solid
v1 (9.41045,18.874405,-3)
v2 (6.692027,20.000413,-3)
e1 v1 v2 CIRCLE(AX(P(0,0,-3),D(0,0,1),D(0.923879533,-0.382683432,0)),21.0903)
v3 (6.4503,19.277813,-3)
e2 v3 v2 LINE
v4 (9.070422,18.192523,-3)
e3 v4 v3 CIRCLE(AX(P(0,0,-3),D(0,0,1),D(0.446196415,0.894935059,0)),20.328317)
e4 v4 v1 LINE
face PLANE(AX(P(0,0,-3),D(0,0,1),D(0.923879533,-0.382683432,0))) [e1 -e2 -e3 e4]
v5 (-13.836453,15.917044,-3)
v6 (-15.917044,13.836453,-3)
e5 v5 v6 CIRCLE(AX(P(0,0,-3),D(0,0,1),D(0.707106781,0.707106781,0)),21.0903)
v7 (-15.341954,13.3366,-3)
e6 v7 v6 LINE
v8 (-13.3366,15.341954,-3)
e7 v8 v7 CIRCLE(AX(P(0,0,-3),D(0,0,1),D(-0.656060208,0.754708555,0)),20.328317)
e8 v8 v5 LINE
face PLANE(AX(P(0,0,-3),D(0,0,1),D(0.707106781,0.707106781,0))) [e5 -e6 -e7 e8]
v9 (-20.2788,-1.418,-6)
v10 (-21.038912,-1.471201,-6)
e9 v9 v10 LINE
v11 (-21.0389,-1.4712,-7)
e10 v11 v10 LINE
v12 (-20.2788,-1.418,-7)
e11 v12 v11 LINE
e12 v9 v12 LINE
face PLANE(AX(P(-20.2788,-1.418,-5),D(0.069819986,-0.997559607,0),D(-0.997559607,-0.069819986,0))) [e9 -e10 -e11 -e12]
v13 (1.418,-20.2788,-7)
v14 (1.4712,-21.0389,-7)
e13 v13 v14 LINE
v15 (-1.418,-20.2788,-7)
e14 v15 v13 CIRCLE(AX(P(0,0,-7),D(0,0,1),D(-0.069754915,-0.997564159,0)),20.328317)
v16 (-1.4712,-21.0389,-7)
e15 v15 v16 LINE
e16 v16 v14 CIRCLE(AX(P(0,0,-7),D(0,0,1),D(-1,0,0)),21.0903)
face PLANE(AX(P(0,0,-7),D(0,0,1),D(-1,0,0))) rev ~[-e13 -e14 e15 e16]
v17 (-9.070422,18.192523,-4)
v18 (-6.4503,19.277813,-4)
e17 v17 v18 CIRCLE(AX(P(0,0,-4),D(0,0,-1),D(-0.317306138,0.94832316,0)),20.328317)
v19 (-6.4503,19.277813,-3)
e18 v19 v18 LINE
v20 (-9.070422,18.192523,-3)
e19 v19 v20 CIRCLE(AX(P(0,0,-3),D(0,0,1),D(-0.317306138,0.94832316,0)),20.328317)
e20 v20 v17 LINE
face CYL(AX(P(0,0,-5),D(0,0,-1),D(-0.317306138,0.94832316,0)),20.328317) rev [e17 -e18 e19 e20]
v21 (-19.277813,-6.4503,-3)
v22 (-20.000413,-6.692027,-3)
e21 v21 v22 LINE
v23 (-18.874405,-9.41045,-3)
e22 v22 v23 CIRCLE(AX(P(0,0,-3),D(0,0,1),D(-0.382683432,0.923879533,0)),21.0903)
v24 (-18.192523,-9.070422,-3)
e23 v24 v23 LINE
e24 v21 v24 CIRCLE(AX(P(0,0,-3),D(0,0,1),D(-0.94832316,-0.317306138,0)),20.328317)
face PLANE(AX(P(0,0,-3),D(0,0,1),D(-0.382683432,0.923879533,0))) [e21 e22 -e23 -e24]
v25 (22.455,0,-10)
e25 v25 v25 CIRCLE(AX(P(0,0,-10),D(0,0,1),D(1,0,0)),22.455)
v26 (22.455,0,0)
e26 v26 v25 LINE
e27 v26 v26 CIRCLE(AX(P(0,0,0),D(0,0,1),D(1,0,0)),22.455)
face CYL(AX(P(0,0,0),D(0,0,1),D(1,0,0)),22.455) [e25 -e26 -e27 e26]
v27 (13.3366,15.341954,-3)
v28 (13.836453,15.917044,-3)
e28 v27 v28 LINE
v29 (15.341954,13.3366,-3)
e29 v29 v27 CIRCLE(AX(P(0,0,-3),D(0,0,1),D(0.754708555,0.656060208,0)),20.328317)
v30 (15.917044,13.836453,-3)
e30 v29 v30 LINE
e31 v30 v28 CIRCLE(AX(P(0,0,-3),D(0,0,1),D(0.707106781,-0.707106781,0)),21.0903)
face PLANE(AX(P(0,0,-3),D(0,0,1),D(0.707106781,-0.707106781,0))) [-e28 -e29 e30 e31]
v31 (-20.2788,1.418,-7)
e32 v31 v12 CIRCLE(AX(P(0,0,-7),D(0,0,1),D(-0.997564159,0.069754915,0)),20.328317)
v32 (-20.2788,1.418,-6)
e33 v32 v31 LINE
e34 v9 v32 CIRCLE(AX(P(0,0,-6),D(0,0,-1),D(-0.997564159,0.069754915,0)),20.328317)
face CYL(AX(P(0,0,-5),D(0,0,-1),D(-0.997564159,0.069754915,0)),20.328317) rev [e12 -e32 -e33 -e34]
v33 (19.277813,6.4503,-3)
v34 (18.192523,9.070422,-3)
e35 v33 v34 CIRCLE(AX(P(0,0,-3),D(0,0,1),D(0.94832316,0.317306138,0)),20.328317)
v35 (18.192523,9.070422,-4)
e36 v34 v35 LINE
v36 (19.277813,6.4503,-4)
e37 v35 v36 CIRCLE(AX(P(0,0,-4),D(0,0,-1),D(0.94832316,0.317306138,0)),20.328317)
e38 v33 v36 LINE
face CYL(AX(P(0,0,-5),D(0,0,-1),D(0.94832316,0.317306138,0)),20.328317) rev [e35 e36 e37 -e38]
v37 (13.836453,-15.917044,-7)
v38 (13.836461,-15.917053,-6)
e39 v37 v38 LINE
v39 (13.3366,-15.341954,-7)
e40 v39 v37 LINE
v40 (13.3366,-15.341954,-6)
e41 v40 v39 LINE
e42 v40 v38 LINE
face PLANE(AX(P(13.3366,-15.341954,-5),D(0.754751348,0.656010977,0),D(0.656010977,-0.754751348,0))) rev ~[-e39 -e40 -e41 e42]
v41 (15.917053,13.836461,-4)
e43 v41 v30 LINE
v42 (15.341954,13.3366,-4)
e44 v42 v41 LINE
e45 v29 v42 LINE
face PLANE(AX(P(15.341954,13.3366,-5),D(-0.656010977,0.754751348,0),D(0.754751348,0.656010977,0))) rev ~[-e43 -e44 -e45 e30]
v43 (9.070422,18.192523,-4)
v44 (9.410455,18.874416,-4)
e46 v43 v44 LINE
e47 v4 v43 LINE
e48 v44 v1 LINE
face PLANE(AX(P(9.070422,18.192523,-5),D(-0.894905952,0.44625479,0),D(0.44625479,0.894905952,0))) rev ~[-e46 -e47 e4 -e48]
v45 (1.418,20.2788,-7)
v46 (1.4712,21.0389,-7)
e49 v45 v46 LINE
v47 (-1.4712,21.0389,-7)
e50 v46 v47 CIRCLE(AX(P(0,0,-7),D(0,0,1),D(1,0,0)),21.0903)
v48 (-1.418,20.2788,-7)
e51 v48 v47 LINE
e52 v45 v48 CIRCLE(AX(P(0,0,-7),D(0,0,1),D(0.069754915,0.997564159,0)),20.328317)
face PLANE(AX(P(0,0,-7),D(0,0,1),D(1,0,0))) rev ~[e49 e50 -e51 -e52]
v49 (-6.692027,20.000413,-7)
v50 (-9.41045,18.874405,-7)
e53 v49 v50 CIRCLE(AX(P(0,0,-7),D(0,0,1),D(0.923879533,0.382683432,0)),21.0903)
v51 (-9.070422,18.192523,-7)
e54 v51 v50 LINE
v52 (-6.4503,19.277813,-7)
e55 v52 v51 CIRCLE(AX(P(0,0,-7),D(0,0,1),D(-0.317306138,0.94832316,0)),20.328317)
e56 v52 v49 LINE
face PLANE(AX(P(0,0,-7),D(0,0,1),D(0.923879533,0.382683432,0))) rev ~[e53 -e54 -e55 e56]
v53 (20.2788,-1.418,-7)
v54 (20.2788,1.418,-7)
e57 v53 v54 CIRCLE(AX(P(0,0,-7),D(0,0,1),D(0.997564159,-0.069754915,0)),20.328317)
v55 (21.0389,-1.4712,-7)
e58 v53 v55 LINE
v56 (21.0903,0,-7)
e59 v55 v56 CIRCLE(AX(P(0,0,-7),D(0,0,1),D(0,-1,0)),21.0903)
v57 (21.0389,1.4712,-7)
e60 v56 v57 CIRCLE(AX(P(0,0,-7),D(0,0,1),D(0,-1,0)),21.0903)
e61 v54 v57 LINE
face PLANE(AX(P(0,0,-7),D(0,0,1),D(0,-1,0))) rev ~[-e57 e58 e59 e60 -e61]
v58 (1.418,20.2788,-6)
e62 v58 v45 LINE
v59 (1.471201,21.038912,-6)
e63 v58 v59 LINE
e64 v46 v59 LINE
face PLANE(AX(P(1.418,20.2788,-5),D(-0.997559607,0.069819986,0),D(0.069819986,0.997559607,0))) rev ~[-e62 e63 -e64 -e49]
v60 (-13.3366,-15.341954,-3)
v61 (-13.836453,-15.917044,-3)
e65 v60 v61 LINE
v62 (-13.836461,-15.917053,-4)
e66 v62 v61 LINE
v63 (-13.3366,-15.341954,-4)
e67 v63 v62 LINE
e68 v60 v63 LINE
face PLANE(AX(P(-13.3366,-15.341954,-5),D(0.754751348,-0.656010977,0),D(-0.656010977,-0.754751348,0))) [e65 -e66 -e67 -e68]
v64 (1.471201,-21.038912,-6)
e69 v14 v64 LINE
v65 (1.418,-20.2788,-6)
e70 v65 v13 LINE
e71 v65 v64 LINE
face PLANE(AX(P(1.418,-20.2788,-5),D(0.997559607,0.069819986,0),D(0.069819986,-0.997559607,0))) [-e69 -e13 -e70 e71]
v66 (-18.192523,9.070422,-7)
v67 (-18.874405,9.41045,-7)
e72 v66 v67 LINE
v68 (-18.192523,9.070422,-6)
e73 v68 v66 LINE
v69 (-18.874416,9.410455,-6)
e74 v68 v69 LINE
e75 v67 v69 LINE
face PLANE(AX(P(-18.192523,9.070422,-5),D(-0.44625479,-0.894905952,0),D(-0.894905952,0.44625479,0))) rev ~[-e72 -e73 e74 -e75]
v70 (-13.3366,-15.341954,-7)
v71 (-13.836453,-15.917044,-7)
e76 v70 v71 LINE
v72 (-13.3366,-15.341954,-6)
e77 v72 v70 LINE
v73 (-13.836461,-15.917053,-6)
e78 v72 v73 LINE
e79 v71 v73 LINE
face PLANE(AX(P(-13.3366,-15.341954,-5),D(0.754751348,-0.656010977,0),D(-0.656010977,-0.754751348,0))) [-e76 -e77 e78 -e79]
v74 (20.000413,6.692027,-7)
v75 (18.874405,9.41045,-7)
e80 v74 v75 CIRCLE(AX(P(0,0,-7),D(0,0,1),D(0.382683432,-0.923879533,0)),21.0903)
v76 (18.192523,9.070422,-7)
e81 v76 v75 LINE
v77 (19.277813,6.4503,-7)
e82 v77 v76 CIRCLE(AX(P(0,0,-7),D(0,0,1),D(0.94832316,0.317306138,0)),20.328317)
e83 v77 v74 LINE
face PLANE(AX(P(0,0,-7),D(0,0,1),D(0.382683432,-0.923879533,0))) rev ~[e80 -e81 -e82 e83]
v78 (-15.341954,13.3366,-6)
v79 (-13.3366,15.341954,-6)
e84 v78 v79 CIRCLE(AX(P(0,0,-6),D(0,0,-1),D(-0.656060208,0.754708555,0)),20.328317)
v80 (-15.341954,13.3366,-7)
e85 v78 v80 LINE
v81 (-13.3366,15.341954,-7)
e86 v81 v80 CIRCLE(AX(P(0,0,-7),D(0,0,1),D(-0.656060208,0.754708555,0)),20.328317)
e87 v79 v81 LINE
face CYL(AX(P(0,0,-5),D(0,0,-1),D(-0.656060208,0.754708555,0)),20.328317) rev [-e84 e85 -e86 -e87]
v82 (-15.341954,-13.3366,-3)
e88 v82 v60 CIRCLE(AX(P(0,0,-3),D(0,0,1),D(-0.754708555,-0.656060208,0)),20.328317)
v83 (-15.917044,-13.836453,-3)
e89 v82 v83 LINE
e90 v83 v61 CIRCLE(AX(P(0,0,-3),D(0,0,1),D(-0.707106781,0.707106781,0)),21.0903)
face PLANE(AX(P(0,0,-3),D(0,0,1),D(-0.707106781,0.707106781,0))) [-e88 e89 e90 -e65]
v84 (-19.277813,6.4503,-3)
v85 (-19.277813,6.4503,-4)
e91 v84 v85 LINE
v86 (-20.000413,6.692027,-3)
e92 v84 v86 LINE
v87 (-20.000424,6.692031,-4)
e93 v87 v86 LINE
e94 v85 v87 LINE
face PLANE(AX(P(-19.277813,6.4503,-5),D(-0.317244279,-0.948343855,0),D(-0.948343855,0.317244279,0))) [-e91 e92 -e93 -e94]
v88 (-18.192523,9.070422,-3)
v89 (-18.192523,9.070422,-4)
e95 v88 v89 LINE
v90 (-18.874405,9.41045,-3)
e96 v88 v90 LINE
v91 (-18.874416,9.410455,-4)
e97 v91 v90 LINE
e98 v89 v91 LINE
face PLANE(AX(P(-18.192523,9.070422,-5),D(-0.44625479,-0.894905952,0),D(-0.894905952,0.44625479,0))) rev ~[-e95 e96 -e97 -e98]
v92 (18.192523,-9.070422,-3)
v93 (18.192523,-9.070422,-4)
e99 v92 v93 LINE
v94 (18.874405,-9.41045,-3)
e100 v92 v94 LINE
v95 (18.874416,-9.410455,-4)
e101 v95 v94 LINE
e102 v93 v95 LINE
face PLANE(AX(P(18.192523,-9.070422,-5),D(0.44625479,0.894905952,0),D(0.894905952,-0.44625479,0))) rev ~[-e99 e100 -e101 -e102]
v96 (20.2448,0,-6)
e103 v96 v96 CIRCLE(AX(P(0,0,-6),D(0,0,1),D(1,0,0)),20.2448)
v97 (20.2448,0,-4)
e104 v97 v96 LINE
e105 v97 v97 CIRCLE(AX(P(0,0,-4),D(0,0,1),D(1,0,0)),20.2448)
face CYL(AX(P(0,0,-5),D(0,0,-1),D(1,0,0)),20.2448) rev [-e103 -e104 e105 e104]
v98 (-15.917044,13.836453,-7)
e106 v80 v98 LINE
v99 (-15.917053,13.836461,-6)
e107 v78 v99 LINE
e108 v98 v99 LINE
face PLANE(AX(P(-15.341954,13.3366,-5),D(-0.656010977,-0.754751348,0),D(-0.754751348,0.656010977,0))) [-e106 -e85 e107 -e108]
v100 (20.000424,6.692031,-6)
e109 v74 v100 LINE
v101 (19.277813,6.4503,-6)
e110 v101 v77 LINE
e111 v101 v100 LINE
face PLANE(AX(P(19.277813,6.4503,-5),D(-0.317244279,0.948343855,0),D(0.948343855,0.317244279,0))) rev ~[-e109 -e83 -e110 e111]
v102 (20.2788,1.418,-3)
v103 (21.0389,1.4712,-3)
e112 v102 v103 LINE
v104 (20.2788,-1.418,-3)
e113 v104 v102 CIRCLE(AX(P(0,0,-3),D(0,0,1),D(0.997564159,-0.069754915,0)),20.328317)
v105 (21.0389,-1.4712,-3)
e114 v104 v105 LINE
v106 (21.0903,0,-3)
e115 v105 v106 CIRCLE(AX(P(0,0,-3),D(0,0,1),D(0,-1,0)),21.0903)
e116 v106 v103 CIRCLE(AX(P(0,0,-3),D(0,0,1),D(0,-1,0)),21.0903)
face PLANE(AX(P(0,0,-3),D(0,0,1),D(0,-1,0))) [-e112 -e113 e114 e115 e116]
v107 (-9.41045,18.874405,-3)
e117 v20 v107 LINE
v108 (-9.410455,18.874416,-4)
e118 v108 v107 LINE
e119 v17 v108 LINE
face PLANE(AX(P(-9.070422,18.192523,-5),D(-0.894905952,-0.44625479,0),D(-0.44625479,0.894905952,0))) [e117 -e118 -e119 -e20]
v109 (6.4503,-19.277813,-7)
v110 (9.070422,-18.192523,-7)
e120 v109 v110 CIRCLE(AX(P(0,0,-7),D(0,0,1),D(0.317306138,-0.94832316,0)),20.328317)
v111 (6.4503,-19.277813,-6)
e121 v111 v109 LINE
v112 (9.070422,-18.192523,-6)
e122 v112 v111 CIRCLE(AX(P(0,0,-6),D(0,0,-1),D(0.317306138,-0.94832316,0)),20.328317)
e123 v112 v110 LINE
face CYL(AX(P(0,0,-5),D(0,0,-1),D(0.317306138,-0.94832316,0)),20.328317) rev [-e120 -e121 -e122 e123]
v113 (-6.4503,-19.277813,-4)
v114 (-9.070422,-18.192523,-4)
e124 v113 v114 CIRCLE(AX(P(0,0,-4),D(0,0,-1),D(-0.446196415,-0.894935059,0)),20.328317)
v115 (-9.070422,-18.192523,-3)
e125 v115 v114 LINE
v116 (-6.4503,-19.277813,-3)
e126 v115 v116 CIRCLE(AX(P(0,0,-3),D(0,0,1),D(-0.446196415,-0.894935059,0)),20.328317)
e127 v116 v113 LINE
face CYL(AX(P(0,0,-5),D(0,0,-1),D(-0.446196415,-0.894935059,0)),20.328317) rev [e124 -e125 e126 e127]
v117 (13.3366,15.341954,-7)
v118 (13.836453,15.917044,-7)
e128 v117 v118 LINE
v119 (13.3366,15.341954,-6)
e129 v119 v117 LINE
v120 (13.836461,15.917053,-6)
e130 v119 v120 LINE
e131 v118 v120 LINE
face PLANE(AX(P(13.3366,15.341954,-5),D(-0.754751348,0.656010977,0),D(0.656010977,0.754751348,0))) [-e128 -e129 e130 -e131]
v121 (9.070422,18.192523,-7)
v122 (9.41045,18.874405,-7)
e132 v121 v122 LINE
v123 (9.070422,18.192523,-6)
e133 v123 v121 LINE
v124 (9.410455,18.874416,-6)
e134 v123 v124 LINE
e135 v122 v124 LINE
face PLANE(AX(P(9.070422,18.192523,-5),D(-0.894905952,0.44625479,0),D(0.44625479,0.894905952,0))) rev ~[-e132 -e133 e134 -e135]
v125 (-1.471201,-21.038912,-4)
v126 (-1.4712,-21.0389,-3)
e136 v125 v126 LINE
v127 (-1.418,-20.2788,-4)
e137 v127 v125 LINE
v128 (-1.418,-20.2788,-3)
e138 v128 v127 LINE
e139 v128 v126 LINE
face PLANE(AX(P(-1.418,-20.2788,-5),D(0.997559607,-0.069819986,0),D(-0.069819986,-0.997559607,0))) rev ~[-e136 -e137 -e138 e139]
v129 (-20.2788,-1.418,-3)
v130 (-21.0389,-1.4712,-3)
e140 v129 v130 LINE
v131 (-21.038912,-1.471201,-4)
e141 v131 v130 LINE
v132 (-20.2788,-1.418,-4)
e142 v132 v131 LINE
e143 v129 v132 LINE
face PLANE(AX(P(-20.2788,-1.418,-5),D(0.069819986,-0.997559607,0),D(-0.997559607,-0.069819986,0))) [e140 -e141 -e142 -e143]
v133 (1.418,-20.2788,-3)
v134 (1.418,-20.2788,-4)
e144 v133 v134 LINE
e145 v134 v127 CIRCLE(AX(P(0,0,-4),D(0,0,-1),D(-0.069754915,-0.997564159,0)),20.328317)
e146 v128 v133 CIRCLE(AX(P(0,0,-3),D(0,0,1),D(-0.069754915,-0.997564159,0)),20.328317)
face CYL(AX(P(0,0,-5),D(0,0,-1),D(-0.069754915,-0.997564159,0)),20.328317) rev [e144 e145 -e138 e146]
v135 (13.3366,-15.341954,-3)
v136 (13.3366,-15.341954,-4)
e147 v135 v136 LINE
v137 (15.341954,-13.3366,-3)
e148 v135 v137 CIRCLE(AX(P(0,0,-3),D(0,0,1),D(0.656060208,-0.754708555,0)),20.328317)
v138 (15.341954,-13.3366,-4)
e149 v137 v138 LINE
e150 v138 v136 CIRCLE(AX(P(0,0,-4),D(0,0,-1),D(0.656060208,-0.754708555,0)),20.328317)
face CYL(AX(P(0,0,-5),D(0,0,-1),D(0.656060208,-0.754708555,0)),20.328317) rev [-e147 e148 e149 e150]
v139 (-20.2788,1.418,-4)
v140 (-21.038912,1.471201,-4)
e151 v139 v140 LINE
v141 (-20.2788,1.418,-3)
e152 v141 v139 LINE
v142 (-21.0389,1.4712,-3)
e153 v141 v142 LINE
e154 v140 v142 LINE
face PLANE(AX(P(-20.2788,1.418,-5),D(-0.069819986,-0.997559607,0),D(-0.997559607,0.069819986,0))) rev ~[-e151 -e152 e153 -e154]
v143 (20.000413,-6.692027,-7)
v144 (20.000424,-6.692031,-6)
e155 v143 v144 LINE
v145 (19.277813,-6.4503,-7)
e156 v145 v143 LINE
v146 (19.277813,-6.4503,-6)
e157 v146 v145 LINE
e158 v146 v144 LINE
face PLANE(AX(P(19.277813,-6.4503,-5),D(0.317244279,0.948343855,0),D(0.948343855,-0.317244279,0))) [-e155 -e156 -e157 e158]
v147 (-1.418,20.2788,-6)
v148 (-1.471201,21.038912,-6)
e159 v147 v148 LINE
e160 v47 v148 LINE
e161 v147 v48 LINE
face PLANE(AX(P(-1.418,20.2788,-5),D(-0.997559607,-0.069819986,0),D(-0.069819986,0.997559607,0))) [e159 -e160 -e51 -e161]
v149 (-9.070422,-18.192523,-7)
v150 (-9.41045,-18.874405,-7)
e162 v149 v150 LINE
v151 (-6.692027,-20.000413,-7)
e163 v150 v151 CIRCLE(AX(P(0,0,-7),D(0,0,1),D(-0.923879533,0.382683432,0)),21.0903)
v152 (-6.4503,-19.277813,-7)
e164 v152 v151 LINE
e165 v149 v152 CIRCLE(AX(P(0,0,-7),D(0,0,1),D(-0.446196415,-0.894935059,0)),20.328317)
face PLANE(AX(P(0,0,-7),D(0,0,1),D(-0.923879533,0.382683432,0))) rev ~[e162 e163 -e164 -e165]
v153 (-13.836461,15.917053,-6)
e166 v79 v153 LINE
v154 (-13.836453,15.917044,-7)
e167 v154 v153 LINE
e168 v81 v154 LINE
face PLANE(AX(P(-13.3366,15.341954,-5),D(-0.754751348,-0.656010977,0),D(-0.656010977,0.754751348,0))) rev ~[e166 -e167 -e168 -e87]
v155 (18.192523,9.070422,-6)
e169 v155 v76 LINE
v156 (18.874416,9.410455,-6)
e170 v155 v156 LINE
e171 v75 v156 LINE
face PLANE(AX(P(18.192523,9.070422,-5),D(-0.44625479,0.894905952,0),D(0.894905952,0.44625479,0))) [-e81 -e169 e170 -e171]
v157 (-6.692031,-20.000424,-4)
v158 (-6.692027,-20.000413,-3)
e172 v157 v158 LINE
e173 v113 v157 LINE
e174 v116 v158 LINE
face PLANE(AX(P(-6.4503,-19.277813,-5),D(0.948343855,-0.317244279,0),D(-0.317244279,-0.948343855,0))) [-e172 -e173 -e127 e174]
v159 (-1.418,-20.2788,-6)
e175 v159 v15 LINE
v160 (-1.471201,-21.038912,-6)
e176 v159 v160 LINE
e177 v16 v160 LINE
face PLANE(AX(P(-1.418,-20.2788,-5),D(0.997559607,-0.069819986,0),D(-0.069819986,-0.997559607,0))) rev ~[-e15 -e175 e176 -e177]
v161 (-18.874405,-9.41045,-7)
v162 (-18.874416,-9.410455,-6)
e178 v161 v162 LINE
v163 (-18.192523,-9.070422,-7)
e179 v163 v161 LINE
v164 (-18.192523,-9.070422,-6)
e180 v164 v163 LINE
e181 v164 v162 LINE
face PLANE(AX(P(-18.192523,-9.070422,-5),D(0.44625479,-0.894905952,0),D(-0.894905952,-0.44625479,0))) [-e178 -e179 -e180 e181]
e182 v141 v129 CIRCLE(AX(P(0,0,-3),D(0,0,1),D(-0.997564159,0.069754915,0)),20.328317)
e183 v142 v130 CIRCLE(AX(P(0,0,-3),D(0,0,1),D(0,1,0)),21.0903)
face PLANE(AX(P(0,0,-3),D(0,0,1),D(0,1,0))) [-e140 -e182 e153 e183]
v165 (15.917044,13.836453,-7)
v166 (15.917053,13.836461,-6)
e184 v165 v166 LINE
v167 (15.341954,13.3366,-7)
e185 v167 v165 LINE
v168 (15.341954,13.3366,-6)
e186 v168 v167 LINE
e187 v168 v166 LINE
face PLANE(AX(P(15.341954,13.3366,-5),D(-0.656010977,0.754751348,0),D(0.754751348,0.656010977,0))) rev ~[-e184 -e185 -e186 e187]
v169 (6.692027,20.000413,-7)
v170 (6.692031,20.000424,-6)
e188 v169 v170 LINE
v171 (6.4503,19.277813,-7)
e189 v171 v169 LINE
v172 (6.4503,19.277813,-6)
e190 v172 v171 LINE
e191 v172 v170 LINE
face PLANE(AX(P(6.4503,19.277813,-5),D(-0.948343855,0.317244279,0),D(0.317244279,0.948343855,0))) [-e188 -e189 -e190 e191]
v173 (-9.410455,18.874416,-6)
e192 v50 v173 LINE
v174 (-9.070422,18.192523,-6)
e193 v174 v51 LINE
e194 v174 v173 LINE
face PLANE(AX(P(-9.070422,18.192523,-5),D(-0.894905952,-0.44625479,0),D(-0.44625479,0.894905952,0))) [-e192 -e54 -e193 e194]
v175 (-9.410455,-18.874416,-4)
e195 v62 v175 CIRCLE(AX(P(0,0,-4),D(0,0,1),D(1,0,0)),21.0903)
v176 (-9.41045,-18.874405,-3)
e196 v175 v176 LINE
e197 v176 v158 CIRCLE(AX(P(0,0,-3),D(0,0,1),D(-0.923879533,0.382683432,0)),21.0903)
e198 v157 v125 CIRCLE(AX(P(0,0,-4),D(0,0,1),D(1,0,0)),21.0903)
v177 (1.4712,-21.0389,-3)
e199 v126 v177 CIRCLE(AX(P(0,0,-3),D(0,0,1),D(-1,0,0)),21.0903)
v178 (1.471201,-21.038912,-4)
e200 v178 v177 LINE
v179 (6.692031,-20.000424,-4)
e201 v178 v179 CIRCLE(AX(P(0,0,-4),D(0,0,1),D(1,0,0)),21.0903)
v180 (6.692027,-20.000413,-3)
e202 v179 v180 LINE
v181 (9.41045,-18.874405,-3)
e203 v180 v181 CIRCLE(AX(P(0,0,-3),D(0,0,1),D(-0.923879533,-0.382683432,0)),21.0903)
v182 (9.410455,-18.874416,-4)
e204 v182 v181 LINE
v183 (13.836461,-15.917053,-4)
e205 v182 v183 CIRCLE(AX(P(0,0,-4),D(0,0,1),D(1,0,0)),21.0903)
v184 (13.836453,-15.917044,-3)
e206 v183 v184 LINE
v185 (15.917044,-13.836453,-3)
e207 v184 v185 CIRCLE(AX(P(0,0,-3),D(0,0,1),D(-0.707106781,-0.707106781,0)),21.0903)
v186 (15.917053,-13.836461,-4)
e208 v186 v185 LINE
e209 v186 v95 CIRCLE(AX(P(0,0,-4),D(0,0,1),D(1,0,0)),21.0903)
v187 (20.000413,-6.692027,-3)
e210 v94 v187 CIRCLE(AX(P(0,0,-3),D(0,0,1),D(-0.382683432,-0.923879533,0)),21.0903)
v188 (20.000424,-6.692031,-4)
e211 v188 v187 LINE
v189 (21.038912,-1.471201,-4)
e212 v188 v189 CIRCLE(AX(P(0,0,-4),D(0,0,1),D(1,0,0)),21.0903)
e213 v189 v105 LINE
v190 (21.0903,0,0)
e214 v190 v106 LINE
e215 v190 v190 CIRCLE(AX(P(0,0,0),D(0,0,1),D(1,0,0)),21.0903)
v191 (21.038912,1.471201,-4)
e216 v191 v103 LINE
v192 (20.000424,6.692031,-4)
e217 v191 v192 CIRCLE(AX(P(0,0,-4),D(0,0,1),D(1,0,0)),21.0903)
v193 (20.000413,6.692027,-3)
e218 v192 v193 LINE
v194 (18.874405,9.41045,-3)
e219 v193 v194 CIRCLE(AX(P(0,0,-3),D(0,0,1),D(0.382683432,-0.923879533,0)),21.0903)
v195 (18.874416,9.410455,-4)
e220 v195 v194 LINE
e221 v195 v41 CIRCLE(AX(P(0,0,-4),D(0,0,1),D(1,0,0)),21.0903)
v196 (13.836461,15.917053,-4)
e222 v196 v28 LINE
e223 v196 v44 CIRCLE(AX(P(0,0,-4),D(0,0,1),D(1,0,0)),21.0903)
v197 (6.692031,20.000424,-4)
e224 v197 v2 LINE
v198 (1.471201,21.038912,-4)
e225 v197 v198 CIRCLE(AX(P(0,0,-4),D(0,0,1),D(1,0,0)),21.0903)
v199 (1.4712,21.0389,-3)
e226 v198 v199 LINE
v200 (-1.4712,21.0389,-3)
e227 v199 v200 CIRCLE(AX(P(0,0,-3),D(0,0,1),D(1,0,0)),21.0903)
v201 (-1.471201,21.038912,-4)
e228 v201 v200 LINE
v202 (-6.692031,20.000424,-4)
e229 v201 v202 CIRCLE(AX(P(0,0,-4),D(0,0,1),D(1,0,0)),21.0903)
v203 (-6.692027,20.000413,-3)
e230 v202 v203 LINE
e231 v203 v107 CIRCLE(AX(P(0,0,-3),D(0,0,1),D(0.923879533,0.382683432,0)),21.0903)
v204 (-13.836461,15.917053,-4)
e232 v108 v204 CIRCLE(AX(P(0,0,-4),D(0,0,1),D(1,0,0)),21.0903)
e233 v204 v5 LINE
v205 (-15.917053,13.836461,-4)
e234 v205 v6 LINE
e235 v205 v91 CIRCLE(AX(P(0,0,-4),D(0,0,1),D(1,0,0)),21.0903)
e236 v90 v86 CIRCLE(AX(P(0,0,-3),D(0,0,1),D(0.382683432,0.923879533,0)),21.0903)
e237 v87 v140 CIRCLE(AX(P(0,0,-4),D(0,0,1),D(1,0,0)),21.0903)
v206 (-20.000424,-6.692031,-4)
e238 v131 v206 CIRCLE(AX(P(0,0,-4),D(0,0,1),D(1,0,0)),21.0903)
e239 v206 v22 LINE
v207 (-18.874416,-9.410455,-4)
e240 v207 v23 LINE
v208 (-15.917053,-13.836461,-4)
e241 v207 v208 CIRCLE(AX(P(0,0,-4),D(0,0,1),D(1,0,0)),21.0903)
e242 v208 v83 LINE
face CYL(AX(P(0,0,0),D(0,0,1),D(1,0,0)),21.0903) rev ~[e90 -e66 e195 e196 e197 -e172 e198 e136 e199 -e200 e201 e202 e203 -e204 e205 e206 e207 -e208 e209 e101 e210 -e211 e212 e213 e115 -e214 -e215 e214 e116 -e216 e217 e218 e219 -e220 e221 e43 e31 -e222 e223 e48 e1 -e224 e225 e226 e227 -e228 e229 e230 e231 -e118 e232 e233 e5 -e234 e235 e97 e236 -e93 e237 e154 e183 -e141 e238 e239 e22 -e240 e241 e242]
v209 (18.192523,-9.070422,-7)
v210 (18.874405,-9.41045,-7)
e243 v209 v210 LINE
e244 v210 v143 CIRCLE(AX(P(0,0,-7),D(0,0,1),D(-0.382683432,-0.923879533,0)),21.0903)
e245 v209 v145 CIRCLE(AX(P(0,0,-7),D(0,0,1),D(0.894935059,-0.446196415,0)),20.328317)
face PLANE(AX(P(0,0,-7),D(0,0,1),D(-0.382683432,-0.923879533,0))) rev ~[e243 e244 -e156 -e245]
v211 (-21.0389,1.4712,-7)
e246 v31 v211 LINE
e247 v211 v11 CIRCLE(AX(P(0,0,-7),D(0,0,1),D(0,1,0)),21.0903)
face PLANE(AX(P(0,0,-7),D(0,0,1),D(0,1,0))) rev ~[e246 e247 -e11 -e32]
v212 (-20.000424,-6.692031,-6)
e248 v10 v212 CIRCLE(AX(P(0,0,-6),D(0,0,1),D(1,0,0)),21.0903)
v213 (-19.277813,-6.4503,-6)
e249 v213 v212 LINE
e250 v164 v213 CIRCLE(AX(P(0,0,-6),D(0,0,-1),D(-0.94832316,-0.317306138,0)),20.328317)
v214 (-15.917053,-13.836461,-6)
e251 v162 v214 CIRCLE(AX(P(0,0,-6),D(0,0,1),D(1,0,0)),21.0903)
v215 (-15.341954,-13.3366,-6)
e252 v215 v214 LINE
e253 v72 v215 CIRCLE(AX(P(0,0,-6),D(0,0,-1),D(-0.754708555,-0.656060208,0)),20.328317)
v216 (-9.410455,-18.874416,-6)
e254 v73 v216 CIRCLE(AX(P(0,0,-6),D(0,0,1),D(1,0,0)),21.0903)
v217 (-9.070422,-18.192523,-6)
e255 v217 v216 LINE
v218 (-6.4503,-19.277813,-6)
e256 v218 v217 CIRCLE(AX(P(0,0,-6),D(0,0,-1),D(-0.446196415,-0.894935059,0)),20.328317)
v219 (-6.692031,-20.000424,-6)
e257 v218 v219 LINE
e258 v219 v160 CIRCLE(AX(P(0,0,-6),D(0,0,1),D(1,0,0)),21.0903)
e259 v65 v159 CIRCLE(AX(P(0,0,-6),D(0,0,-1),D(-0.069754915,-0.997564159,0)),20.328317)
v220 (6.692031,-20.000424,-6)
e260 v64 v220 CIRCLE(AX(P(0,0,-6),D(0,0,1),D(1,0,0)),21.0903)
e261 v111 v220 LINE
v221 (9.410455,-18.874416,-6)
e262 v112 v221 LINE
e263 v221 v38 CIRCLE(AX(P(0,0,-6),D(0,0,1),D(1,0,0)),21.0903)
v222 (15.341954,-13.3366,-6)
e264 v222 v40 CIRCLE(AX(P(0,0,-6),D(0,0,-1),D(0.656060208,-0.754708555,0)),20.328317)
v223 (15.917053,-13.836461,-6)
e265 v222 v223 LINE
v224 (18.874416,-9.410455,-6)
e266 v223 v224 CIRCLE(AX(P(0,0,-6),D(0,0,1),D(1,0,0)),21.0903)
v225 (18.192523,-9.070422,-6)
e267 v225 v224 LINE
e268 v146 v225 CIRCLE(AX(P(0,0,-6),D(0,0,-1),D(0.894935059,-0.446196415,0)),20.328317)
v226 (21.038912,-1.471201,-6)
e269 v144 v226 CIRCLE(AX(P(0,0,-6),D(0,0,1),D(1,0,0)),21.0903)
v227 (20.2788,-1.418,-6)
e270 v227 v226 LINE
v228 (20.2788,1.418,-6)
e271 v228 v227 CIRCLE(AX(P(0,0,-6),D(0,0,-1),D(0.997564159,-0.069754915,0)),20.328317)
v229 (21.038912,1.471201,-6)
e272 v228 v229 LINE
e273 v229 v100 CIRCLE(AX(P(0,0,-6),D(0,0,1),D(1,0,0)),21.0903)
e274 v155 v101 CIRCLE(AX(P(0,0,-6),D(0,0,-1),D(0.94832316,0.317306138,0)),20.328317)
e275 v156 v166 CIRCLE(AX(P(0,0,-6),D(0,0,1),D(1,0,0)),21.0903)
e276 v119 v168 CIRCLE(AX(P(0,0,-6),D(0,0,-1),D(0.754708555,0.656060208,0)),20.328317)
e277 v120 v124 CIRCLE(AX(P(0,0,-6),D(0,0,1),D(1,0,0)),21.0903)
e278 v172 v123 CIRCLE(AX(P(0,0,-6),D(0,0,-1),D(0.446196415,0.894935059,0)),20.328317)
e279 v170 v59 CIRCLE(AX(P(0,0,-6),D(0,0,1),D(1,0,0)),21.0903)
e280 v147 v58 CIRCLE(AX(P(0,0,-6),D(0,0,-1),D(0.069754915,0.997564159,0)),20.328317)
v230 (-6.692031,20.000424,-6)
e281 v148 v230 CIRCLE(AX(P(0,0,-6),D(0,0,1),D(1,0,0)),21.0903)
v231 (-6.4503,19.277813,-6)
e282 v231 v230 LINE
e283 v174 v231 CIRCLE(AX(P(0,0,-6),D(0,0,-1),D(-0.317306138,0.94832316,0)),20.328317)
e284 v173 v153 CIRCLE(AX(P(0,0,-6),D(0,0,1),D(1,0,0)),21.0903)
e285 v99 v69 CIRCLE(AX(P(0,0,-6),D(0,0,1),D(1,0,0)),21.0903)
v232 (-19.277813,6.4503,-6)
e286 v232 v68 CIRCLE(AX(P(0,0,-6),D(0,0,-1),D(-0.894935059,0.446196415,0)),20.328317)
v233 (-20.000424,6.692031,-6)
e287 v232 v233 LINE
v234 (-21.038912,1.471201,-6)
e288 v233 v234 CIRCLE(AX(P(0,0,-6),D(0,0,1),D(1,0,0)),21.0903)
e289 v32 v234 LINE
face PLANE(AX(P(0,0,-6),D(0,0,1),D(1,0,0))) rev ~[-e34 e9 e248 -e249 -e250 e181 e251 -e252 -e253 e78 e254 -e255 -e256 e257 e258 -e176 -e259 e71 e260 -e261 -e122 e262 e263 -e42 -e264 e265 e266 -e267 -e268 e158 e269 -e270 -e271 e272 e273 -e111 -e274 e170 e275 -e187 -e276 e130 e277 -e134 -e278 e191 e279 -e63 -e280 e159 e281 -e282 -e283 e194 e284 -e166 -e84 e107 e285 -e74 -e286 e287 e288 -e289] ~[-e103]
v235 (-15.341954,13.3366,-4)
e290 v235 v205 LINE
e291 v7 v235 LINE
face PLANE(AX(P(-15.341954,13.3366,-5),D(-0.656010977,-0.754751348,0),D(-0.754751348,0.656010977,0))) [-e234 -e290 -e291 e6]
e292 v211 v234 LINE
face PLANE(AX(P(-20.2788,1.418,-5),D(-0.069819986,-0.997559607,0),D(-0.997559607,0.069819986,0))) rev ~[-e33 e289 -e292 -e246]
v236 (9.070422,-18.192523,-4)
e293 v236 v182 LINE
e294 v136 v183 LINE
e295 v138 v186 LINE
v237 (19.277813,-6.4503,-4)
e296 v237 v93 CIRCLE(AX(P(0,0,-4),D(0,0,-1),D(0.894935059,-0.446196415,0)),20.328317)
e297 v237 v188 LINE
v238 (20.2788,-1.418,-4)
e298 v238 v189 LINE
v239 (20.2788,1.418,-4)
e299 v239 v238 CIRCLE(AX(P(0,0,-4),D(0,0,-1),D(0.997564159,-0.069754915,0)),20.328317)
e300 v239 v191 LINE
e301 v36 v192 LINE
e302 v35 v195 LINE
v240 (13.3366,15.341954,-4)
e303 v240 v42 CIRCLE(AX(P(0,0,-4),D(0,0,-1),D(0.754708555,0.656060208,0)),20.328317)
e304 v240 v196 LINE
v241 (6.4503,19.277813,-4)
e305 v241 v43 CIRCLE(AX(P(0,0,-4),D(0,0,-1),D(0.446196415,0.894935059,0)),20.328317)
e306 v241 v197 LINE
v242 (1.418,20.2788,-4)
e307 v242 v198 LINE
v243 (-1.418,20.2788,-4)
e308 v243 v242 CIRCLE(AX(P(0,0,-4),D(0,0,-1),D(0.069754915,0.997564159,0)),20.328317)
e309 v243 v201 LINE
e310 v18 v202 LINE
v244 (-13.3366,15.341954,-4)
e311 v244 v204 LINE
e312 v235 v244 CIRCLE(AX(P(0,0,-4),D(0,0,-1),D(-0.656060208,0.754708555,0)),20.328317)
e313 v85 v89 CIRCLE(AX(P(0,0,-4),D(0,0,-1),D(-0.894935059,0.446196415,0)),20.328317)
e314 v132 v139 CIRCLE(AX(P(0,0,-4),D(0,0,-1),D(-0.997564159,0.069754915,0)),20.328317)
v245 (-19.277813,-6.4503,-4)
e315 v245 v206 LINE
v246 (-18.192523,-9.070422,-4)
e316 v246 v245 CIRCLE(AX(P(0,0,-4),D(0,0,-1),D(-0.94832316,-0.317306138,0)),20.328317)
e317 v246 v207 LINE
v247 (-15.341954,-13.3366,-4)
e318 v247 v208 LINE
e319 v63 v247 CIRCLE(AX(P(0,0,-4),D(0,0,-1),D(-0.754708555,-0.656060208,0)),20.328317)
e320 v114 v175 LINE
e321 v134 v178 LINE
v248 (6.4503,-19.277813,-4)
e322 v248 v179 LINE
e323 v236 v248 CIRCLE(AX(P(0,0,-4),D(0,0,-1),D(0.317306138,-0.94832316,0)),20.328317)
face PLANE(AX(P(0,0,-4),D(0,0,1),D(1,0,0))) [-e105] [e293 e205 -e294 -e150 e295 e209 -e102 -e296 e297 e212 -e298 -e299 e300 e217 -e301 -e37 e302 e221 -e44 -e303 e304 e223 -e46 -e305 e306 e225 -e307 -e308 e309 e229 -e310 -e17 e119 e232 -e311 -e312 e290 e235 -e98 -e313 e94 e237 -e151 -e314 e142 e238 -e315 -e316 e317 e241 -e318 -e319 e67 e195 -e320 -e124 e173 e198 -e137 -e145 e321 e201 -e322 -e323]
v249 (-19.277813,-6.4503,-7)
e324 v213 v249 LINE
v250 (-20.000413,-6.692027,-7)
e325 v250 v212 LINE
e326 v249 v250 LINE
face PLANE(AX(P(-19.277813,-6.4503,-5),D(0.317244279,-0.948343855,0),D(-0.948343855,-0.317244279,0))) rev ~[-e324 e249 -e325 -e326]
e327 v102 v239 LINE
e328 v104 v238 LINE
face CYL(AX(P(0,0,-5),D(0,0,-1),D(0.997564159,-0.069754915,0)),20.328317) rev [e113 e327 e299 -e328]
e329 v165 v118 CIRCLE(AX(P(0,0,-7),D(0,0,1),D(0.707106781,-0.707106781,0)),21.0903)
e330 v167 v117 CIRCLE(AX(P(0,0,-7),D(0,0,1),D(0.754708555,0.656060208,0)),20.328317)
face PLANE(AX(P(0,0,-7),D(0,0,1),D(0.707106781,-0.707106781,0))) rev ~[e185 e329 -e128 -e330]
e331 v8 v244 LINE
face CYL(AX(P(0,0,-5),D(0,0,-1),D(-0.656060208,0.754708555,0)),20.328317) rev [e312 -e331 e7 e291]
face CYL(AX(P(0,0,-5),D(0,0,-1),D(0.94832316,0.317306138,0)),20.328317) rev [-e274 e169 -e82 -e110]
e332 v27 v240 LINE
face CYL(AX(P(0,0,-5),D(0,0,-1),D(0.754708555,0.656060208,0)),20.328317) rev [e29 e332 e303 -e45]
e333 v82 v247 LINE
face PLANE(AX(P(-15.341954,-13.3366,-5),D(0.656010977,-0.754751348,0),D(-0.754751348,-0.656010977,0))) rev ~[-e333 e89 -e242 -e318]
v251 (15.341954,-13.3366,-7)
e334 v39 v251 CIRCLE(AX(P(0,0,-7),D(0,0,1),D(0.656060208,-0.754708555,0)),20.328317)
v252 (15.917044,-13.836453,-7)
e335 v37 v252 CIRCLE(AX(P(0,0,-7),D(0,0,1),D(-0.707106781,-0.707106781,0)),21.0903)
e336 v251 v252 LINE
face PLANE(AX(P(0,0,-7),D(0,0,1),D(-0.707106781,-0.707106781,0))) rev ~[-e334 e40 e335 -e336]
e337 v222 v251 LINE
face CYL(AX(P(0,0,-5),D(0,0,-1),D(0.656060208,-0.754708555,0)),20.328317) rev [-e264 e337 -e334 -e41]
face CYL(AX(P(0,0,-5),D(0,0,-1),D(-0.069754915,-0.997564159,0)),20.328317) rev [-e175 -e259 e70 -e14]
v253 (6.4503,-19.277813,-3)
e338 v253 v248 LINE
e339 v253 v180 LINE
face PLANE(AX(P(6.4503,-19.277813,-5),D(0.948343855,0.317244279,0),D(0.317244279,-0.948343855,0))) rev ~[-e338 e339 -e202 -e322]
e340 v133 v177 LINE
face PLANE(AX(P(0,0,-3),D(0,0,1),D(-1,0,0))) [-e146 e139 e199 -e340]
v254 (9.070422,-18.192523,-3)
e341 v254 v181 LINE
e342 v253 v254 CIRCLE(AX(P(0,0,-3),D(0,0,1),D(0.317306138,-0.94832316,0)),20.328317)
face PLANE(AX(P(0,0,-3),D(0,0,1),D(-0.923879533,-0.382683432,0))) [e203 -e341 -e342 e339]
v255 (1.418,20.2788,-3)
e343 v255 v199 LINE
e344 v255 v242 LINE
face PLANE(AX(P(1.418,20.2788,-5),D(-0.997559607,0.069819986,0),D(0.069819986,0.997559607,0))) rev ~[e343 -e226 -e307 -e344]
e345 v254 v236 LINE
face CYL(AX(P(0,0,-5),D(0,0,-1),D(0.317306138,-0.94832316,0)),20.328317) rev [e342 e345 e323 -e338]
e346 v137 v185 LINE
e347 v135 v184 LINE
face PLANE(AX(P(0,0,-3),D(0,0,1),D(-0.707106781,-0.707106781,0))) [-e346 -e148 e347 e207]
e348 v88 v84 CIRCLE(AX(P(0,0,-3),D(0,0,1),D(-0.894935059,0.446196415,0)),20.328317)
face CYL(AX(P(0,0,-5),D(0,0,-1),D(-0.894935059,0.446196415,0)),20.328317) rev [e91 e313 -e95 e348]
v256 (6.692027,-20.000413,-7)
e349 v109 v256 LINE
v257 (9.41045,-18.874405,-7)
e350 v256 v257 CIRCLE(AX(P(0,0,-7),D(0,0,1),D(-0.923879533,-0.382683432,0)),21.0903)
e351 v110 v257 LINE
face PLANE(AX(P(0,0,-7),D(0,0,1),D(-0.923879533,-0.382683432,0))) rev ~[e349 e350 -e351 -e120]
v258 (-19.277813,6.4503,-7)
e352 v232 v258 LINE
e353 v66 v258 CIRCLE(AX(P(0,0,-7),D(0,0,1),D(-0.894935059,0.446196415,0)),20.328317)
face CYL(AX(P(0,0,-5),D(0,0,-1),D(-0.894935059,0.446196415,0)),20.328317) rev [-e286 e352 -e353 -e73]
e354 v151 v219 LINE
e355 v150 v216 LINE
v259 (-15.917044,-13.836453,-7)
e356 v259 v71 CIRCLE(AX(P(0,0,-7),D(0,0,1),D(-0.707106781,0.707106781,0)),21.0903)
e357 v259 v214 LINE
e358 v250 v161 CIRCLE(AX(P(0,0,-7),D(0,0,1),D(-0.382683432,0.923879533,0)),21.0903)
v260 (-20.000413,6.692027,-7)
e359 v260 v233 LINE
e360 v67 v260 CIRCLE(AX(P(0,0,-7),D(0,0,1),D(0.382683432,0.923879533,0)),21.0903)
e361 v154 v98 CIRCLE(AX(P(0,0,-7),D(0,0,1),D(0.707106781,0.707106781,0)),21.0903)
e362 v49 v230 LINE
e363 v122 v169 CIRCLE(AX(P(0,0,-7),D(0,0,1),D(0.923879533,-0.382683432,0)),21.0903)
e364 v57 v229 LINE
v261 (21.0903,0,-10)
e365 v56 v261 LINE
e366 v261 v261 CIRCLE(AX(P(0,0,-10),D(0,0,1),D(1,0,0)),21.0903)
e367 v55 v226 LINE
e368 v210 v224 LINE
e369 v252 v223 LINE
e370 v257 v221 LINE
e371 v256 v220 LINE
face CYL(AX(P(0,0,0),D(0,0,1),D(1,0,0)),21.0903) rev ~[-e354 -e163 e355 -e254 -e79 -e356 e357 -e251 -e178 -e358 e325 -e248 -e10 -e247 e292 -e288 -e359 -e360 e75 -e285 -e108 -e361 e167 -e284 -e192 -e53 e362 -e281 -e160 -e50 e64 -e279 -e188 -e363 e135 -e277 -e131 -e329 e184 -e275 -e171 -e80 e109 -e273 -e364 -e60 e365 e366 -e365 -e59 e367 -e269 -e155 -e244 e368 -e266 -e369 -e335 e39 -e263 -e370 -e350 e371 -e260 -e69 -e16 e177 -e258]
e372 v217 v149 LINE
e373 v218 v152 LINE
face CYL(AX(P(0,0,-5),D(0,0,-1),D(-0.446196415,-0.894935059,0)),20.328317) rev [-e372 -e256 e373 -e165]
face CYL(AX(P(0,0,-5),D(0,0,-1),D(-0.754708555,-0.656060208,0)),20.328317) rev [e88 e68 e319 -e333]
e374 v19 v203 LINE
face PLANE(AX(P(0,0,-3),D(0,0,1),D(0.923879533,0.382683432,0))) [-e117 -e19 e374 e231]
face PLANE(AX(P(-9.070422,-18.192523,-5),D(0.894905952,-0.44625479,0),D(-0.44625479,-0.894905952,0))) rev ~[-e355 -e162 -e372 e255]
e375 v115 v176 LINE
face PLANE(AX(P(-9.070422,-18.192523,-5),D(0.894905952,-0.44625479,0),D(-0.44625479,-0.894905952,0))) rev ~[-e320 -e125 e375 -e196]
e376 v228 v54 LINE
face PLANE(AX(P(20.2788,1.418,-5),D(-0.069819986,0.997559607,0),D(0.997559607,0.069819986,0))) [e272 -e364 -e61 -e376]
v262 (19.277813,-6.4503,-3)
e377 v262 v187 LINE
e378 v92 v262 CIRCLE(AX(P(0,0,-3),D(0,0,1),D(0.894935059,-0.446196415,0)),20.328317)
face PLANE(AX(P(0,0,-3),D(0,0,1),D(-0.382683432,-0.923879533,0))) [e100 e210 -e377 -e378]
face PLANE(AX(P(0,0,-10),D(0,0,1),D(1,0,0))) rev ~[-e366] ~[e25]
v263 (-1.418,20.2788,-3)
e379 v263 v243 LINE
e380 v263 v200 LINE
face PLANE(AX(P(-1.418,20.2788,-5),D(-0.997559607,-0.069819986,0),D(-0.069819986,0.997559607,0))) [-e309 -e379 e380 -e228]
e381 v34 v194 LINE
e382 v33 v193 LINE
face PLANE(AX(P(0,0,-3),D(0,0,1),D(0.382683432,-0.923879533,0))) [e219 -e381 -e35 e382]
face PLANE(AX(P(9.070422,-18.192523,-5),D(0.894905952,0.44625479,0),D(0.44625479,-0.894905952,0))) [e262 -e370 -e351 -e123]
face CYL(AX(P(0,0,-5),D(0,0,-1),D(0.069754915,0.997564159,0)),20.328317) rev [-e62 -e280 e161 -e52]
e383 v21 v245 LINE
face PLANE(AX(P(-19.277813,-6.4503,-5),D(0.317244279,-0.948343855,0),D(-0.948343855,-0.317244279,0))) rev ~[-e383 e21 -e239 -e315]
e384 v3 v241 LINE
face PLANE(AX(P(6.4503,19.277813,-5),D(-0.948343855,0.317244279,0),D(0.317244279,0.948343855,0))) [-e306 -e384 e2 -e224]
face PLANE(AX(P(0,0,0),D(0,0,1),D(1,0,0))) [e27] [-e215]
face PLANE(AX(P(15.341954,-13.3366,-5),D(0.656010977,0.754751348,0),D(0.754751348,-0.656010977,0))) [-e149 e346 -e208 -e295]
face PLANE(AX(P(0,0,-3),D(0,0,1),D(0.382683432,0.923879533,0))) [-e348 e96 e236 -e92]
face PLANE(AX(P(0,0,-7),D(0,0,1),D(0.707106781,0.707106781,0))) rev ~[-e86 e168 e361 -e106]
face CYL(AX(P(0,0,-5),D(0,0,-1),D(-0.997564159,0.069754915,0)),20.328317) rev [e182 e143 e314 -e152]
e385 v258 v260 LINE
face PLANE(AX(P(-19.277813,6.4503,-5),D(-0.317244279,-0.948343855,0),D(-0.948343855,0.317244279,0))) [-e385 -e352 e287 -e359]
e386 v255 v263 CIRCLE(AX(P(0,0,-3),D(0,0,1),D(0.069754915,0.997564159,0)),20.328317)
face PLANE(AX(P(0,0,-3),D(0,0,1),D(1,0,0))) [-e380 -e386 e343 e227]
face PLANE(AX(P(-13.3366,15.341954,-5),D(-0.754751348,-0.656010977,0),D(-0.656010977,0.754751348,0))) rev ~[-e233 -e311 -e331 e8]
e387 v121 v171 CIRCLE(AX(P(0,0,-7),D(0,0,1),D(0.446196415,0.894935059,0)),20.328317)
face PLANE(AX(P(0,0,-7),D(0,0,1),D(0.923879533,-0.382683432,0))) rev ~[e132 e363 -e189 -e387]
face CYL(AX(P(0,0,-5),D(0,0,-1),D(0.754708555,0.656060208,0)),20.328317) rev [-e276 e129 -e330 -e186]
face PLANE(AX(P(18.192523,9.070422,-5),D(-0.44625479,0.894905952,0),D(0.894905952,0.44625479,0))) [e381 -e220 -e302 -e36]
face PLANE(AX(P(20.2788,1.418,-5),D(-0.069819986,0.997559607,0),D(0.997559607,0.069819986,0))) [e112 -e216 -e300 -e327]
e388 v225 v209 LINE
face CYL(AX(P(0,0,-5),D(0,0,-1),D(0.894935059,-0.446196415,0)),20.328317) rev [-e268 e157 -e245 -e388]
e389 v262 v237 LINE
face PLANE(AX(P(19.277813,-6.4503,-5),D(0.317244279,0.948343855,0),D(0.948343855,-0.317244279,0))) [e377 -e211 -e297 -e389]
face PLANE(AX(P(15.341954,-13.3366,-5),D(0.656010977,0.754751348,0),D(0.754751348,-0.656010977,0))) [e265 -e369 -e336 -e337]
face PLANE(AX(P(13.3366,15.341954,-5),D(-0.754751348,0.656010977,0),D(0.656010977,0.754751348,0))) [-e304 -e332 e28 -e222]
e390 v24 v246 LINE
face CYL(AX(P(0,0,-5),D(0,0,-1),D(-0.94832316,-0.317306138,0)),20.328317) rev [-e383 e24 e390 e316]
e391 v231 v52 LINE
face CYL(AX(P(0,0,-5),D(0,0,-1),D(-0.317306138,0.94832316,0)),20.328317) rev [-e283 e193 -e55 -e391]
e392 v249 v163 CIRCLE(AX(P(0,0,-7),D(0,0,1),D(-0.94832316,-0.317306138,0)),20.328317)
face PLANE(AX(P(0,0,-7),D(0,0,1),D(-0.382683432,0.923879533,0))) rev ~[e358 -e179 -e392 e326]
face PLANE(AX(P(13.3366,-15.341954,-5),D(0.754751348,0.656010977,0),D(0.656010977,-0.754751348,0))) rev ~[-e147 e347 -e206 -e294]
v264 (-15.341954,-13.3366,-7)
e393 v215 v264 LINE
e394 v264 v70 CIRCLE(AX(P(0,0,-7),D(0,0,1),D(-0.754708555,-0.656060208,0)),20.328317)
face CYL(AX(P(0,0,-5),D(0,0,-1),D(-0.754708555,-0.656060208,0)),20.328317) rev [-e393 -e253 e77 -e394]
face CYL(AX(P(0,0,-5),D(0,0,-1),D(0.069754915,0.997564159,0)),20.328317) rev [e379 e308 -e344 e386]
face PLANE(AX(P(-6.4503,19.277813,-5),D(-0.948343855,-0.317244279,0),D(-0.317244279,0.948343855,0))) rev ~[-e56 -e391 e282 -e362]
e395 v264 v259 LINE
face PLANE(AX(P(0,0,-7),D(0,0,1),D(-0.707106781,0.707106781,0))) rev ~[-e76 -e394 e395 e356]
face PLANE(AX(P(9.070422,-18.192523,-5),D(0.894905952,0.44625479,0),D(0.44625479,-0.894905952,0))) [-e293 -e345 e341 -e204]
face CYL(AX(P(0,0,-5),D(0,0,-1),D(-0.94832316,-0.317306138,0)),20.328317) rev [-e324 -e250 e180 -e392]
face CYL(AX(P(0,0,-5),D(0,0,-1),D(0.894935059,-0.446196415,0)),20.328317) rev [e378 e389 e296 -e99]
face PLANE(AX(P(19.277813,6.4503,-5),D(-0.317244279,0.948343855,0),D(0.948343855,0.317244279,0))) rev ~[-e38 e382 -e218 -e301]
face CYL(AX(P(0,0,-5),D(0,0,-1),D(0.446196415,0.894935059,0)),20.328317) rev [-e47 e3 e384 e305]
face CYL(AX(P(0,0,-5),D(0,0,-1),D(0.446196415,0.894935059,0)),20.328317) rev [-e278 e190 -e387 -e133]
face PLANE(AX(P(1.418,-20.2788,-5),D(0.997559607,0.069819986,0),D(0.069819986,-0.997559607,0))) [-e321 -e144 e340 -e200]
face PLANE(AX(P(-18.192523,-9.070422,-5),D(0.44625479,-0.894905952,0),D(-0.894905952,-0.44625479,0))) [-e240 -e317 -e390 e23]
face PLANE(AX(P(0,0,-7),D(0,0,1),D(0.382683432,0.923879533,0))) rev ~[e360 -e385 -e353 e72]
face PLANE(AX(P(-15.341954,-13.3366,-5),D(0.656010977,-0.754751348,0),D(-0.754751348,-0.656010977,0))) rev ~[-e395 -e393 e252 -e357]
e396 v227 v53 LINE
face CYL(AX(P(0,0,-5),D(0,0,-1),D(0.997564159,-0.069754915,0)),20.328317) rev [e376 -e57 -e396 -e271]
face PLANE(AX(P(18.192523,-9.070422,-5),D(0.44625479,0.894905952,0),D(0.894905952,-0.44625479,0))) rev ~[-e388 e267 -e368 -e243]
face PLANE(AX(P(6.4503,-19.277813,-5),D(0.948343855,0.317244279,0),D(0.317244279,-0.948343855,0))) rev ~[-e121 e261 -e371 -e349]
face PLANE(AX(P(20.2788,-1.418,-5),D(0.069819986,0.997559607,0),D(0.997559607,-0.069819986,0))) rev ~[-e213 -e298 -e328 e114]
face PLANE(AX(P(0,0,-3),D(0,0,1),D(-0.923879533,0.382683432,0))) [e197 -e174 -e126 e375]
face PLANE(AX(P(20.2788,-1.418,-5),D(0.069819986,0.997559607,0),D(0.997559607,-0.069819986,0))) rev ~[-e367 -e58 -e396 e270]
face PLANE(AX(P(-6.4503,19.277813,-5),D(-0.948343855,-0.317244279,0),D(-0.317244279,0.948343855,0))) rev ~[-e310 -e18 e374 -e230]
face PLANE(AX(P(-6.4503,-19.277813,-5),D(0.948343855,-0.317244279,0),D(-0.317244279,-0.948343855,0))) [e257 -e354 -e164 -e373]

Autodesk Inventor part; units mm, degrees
ref_plane "YZ Plane" through (0, 0, 0) normal (1, 0, 0) x (0, 1, 0)
ref_plane "XZ Plane" through (0, 0, 0) normal (0, 1, 0) x (-1, 0, 0)
sketch "Sketch1" plane through (0, 0, 0) normal (0, 0, 1) x (1, 0, 0)
  circle A0 centre (0, 0) radius 22.455
  circle A1 centre (0, 0) radius 21.0903
  dimension "d0" = 44.91
extrude "Extrusion1" add sketch "Sketch1" against normal blind 10
ref_plane "Work Plane1" through (0, 0, -5) normal (0, 0, 1) x (1, 0, 0)
sketch "Sketch2" plane through (0, 0, -5) normal (0, 0, 1) x (1, 0, 0)
  circle A0 centre (0, 0) radius 21.0903 projected
  line L0 (0, 0) -> (21.0903, 0) construction
  line L1 (0, 0) -> (94, 0) construction
  arc A1 (1.418, 20.2788) -> (-1.418, 20.2788) centre (0, 0) ccw
  line L2 (1.418, 20.2788) -> (1.4712, 21.0389)
  line L3 (0, 0) -> (21.0903, 0) construction
  line L4 (-1.418, 20.2788) -> (-1.4712, 21.0389)
  line L5 (0, 0) -> (21.0903, 0) construction
  dimension "d6" = 0.762
extrude "Extrusion2" add sketch "Sketch2" along normal mid plane 4 contours L2 A1 L4 A0 picked at (0.1577, 20.8307)
pattern_circular "Circular Pattern1" count 16 over 360 about axis through (0, 0, 0) along (0, 0, -1) of "Extrusion2"
sketch "Sketch3" plane through (0, 0, -5) normal (0, 0, 1) x (1, 0, 0)
  point P0 (0, 0)
sketch "Sketch4" plane through (0, 0, -5) normal (0, 0, 1) x (1, 0, 0)
  circle A0 centre (0, 0) radius 21.0903 projected
  circle A1 centre (0, 0) radius 20.2448
extrude "Extrusion3" add sketch "Sketch4" along normal mid plane 2
properties part number "tire 2"
